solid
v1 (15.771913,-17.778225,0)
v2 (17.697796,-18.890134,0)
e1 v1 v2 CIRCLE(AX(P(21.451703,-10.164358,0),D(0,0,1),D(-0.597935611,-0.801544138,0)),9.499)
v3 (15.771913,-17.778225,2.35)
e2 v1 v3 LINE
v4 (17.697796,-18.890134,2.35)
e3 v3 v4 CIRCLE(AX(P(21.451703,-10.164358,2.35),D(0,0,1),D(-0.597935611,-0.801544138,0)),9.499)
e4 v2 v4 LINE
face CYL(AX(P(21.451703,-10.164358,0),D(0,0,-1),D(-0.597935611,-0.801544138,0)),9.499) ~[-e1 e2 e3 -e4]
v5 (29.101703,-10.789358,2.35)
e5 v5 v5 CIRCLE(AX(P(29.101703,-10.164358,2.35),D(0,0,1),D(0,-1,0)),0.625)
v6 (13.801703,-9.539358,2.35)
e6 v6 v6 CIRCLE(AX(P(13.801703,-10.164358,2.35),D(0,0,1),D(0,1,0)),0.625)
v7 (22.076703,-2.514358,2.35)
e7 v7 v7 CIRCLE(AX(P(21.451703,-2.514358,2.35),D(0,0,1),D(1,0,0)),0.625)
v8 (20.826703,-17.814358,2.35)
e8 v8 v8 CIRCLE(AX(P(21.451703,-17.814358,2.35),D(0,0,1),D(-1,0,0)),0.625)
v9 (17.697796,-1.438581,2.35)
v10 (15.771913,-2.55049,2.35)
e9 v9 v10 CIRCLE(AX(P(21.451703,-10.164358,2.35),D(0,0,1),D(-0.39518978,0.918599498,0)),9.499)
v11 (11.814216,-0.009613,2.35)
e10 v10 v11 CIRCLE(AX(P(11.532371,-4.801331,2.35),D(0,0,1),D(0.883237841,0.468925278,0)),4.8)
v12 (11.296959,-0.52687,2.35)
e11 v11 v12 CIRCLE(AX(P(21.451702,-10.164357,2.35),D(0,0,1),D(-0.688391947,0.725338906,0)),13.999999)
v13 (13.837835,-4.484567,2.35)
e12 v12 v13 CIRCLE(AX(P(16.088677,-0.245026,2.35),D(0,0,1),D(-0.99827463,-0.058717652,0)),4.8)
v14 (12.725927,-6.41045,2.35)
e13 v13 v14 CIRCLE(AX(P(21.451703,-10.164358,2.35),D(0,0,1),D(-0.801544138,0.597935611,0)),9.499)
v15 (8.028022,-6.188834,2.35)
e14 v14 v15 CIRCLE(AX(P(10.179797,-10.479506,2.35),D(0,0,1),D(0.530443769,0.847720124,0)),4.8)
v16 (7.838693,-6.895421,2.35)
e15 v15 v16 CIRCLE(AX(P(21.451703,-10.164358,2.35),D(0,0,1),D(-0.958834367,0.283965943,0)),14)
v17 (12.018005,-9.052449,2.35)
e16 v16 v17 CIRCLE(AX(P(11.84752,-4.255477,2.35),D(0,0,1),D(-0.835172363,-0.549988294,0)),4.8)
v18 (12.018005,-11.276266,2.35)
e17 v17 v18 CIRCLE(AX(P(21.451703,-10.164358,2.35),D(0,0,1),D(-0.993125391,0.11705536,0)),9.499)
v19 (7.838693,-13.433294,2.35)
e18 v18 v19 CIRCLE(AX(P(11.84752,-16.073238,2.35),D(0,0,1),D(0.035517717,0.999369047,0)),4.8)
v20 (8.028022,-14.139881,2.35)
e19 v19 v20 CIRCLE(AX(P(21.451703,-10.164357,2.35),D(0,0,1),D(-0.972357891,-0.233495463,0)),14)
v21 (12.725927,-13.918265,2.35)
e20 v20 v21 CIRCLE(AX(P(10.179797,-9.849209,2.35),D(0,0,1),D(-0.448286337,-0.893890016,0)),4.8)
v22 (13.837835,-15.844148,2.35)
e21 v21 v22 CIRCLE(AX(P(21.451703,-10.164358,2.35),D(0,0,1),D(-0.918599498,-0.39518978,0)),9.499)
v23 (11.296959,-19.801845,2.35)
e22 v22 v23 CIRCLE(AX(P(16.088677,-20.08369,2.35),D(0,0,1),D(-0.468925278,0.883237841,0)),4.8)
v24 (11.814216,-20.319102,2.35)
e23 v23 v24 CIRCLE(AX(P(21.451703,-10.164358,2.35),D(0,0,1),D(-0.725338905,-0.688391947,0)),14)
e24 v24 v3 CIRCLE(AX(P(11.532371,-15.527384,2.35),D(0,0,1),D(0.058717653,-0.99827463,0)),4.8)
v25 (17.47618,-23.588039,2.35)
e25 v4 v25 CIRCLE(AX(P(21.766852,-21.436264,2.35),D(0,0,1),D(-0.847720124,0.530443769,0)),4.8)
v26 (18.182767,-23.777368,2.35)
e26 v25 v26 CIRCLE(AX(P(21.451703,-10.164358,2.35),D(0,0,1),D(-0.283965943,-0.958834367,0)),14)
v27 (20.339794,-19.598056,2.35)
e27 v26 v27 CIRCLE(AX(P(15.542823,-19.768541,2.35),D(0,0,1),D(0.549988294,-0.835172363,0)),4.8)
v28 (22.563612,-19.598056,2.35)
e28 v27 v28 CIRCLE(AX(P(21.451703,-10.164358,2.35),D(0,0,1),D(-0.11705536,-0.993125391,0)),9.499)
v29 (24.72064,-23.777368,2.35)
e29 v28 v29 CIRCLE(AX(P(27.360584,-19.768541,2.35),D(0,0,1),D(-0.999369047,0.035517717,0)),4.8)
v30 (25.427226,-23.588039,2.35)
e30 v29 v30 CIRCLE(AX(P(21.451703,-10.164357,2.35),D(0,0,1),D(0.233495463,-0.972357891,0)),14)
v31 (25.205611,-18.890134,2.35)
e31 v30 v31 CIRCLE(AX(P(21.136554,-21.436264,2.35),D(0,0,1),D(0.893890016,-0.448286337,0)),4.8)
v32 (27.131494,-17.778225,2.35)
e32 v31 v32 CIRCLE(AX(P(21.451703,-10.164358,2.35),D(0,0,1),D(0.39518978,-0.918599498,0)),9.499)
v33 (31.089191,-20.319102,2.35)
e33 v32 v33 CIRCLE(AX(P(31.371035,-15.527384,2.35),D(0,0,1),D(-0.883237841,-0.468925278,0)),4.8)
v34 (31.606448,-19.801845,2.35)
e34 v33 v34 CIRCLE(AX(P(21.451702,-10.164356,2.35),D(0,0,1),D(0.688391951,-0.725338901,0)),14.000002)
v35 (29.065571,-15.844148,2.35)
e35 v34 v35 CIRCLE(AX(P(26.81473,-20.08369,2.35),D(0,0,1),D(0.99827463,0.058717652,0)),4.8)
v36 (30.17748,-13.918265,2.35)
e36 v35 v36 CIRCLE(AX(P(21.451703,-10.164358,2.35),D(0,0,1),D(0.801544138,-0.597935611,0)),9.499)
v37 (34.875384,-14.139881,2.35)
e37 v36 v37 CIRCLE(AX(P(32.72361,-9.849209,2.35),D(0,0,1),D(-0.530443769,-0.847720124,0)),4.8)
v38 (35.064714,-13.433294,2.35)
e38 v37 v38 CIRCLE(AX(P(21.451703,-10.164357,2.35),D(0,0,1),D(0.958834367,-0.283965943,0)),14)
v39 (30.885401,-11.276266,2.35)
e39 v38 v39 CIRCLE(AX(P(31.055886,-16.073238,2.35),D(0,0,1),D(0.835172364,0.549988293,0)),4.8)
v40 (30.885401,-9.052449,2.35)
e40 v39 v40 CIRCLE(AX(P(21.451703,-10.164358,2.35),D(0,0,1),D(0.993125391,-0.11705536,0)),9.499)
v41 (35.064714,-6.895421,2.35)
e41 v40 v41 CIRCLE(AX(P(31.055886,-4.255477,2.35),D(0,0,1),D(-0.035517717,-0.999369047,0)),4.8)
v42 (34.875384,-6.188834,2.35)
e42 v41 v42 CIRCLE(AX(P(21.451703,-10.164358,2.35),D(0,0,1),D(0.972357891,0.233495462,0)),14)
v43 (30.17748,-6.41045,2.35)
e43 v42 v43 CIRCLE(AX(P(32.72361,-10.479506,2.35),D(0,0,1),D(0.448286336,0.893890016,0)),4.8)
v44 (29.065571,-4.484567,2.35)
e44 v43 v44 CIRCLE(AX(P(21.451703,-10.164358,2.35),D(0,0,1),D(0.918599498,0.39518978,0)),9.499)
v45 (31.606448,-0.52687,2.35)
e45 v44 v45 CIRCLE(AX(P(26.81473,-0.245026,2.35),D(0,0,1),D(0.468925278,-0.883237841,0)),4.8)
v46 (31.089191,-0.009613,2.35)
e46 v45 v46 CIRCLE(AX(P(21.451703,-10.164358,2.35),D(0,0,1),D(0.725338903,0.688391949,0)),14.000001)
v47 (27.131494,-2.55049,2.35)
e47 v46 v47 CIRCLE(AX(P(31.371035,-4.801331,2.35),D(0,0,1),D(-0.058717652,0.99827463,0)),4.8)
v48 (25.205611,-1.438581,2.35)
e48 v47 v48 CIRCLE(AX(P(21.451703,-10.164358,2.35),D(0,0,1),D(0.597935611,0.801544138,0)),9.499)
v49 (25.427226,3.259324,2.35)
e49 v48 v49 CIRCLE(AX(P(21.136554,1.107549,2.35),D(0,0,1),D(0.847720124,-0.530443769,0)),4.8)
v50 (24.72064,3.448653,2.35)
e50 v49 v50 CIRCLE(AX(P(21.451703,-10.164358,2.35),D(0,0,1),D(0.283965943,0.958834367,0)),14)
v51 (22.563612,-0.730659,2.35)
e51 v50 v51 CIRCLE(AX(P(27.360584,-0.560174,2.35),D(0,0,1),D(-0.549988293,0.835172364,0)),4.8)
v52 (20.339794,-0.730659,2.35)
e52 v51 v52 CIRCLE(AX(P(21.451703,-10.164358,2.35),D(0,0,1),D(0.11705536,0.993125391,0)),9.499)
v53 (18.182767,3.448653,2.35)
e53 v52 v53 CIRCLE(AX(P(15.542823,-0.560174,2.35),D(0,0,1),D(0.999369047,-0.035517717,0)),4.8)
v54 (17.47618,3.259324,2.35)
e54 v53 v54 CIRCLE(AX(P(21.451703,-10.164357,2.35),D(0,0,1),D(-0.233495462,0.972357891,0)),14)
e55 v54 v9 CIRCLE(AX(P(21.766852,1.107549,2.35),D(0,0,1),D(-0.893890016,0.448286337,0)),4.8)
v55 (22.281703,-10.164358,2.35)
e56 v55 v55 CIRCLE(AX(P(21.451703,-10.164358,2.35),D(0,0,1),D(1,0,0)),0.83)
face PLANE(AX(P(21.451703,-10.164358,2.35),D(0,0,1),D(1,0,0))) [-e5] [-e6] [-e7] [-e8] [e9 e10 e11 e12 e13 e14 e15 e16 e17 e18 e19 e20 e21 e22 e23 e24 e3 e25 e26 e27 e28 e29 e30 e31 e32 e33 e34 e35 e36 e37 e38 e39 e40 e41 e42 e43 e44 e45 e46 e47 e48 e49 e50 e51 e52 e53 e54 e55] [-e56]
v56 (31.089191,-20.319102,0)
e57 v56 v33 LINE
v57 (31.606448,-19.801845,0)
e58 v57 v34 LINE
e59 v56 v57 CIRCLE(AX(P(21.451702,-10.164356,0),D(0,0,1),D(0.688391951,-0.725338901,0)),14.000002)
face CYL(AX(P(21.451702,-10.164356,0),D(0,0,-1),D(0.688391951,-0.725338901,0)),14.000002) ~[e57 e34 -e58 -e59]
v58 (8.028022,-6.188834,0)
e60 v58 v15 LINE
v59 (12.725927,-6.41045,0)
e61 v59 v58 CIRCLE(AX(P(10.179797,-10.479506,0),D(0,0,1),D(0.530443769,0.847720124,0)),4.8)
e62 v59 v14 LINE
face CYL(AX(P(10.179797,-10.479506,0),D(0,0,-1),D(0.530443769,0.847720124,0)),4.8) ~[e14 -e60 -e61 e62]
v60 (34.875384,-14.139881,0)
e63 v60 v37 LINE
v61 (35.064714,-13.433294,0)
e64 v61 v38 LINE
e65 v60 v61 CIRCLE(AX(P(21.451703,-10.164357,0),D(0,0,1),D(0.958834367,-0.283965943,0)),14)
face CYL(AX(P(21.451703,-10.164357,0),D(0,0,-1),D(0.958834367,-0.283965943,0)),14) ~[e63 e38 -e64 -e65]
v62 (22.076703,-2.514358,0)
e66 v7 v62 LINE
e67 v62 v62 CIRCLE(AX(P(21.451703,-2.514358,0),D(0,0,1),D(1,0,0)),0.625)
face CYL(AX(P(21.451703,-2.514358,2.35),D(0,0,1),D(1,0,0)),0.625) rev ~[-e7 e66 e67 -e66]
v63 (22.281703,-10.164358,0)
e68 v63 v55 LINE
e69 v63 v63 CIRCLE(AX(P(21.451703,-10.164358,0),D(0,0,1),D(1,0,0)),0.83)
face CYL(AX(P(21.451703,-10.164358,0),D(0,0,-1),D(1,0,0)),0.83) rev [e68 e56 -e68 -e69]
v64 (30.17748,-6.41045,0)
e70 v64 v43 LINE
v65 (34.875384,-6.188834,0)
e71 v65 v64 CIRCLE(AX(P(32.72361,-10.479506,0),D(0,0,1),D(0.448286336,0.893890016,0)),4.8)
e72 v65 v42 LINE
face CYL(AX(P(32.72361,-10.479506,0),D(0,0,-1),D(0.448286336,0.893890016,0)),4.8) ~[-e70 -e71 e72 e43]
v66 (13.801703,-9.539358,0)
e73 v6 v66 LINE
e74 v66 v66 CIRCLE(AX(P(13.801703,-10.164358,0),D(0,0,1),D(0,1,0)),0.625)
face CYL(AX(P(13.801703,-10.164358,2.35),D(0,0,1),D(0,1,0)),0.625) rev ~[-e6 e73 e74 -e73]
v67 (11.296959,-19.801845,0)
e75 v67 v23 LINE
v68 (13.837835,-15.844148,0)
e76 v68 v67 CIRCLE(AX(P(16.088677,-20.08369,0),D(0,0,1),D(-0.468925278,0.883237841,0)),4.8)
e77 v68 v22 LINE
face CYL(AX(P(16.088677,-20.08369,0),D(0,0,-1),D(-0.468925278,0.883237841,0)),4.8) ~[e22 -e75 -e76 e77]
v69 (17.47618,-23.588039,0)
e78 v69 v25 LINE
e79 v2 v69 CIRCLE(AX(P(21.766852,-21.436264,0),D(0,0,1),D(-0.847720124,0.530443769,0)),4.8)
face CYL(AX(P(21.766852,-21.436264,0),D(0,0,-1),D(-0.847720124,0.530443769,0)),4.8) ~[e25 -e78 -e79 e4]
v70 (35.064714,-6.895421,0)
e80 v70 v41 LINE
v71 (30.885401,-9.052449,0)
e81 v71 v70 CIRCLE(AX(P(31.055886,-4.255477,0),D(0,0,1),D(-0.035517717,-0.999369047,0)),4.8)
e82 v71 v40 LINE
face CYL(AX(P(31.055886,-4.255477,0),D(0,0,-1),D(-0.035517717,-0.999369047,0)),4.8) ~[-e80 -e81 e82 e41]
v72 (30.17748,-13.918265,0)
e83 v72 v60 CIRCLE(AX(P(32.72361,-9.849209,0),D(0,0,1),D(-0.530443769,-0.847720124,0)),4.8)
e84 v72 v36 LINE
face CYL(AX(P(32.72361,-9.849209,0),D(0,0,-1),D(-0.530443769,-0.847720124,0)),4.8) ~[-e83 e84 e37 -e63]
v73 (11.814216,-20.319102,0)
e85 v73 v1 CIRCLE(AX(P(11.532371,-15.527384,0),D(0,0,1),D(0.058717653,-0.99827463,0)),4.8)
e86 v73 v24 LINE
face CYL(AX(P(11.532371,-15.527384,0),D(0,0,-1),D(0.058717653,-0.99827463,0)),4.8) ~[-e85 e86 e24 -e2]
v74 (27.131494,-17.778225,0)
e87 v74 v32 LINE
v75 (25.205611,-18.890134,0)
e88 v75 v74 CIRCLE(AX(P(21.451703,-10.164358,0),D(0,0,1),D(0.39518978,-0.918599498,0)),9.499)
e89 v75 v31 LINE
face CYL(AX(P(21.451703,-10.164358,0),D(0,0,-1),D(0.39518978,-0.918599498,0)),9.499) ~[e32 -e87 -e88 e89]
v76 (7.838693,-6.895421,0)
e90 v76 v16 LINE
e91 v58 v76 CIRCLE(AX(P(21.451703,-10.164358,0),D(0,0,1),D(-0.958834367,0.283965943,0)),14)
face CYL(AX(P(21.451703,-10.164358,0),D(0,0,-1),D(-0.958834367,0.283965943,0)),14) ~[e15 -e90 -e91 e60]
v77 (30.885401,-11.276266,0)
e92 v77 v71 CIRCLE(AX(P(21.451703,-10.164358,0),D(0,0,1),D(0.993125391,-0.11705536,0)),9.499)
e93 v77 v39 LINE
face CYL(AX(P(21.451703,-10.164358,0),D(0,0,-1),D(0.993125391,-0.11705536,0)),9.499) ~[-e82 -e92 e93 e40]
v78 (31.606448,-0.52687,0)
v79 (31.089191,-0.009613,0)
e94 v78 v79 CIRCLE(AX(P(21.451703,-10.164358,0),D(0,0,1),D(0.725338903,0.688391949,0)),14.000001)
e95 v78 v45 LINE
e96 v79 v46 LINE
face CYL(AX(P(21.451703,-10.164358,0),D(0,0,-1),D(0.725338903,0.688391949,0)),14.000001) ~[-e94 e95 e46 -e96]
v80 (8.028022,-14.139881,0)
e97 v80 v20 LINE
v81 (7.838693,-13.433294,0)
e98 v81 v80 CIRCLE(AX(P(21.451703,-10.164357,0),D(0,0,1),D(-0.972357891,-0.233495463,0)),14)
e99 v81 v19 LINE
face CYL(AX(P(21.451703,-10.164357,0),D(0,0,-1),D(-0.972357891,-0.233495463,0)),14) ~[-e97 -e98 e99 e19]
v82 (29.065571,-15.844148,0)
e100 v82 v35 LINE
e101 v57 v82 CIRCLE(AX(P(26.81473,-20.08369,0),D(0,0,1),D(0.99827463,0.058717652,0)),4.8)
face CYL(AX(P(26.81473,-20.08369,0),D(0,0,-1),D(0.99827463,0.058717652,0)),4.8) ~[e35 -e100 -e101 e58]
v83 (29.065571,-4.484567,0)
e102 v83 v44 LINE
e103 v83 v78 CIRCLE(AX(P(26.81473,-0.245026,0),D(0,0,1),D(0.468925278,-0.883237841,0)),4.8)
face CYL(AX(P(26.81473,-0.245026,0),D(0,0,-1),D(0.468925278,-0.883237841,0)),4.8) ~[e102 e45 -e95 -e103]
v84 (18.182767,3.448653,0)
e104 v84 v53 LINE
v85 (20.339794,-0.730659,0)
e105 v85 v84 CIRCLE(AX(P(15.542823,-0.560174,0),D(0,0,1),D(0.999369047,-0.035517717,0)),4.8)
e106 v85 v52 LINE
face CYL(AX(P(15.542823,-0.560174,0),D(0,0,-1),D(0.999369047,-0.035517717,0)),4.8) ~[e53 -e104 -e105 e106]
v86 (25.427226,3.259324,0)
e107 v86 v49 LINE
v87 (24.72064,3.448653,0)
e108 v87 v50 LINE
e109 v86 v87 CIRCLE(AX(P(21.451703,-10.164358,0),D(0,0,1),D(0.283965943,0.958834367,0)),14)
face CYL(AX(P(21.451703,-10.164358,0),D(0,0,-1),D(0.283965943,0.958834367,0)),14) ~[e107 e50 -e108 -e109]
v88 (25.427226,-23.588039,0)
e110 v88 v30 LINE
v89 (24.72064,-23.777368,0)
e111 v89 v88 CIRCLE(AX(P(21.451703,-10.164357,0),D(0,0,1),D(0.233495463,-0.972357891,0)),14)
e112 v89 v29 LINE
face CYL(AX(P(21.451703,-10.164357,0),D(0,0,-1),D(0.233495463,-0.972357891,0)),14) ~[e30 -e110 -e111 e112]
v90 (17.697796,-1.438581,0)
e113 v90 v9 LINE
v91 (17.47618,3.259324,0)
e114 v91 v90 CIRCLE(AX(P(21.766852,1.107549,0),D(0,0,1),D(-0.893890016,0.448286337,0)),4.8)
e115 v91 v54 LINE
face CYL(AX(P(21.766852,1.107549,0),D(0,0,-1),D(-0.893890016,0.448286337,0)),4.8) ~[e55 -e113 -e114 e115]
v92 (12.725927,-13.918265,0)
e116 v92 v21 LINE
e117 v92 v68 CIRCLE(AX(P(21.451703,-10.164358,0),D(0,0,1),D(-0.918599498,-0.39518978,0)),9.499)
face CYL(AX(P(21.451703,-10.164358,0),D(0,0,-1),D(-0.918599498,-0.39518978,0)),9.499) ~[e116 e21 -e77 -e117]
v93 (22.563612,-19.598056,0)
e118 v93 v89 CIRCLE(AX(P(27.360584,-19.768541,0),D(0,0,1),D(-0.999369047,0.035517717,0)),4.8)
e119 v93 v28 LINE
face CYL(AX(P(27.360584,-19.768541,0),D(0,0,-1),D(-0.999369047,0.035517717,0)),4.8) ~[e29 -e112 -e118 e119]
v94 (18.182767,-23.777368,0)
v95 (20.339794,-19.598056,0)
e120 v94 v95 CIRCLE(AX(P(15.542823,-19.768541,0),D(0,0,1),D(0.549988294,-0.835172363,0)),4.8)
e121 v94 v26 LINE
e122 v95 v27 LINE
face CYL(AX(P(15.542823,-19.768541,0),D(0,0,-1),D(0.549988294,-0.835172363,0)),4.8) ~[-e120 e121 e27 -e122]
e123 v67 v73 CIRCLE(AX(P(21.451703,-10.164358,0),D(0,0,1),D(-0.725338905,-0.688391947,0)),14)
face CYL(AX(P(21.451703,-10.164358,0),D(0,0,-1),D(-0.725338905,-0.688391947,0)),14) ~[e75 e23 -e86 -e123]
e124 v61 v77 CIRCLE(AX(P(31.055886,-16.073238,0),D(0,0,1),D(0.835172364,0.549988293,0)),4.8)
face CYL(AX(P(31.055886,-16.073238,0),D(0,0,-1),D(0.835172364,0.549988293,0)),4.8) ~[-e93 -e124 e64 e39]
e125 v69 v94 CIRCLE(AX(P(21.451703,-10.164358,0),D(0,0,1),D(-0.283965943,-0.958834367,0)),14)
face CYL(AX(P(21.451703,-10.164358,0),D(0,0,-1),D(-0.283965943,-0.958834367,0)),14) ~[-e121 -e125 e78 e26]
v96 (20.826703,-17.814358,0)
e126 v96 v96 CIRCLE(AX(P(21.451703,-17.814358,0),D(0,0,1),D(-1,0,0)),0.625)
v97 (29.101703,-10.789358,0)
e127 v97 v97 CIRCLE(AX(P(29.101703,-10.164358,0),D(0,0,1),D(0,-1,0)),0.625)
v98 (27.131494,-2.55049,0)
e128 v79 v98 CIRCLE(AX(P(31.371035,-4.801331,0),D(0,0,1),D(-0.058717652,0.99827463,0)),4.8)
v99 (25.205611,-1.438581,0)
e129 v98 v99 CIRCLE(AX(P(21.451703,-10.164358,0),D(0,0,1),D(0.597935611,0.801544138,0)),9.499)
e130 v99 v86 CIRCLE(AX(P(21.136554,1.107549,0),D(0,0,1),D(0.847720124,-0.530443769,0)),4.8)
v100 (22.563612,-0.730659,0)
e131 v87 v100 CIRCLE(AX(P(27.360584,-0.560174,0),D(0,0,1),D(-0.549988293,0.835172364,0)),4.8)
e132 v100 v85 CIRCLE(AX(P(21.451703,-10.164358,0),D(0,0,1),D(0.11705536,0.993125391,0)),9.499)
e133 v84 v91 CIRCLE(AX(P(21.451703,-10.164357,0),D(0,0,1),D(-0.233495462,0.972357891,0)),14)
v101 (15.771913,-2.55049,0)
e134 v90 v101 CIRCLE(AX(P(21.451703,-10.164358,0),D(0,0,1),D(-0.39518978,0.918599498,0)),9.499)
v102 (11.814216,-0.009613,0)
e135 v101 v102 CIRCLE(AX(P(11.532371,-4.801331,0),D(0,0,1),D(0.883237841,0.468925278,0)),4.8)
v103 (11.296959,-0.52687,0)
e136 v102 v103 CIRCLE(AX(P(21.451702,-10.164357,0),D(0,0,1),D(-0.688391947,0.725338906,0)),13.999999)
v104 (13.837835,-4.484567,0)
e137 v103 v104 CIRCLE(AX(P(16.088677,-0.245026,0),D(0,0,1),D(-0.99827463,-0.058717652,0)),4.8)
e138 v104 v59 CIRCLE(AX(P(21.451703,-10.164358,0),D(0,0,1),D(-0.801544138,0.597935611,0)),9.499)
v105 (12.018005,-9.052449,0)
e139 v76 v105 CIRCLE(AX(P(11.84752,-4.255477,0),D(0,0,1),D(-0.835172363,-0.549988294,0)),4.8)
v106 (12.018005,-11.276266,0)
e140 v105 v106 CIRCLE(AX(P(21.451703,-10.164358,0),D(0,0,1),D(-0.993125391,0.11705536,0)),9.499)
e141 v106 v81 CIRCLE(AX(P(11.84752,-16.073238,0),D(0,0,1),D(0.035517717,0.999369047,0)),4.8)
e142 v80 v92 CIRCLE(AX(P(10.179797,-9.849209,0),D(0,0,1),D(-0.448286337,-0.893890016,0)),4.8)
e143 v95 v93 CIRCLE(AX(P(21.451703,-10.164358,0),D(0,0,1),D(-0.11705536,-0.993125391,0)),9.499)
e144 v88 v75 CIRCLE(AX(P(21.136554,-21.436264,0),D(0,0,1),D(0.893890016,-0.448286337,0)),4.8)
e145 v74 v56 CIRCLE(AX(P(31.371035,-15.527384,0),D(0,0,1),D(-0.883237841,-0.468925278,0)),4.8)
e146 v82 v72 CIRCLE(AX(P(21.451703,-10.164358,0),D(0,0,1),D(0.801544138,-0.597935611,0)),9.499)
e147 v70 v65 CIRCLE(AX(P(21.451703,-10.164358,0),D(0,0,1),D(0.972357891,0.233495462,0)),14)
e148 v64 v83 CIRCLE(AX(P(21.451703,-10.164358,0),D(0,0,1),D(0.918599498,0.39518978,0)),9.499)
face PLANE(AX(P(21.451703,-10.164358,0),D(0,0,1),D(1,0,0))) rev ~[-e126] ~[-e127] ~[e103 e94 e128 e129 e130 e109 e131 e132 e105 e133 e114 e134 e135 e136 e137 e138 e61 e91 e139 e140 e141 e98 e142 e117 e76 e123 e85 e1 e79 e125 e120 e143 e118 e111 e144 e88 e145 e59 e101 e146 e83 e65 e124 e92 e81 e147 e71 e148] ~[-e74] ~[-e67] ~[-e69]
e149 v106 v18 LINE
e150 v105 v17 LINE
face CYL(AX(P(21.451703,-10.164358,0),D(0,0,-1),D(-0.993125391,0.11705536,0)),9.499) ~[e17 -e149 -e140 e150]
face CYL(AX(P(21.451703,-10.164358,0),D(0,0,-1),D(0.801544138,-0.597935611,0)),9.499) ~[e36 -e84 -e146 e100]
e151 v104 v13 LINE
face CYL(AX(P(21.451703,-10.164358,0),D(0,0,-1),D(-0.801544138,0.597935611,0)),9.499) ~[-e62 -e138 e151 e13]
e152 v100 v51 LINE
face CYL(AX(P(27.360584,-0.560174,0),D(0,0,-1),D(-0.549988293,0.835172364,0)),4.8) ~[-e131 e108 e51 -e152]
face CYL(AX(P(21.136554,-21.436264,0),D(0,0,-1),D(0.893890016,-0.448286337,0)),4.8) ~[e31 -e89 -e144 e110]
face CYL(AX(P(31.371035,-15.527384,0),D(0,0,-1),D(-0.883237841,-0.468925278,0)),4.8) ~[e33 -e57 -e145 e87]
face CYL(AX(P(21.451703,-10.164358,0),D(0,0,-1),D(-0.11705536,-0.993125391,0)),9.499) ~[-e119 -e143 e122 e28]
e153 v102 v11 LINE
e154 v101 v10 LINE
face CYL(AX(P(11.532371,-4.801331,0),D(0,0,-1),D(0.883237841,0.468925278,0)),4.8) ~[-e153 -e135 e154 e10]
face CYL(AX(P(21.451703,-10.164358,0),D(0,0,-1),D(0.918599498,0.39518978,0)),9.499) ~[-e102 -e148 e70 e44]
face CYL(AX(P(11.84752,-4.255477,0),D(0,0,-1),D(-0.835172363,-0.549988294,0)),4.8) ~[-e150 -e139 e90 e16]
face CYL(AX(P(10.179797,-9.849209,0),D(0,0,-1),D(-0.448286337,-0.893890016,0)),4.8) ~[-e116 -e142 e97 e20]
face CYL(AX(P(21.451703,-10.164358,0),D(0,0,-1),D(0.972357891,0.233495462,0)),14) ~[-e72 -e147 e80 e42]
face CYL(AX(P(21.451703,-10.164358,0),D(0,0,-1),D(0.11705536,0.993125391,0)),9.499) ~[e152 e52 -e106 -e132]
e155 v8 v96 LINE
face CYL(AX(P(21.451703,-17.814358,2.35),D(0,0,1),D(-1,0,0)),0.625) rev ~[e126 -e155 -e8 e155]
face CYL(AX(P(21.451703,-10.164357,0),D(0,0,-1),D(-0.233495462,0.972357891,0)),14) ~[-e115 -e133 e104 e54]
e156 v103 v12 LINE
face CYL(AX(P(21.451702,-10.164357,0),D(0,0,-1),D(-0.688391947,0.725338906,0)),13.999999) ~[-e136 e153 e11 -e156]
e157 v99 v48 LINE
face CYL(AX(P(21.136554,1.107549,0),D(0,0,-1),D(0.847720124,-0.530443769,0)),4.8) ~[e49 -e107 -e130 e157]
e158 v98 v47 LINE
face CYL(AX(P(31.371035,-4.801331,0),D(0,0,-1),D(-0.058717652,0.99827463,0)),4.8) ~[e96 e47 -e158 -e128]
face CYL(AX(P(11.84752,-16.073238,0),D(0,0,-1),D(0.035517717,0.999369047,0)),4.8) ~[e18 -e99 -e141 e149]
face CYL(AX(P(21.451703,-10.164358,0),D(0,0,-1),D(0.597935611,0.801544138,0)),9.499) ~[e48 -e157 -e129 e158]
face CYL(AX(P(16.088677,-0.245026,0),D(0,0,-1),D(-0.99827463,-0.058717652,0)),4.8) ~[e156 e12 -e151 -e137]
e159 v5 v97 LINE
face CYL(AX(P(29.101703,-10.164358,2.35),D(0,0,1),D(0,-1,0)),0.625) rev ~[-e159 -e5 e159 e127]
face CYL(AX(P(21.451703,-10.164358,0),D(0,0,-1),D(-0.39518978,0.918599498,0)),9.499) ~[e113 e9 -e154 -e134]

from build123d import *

# Parameters (mm, degrees)
SKETCH1_R           = 0.83
BOSS_EXTRUDE1_DEPTH = 2.35
SKETCH2_R           = 0.625
CUT_EXTRUDE1_DEPTH  = 10
CIRPATTERN1_COUNT   = 4


with BuildPart() as part:
    # Sketch1 → Boss-Extrude1 (new body)
    with BuildSketch(Plane.XY):
        with BuildLine():
            ThreePointArc((31.089190509, -0.00961289), (28.777823425, -0.762116774), (27.131493603, -2.550489779))
            ThreePointArc((27.131493603, -2.550489779), (26.201203233, -1.937982234), (25.205610954, -1.438580913))
            ThreePointArc((25.205610954, -1.438580913), (25.931222497, 0.881369039), (25.427226435, 3.259323592))
            ThreePointArc((25.427226435, 3.259323592), (25.075169864, 3.358604023), (24.720639715, 3.448652933))
            ThreePointArc((24.720639715, 3.448652933), (23.095189045, 1.641281911), (22.563612099, -0.730659454))
            ThreePointArc((22.563612099, -0.730659454), (21.451703233, -0.665357545), (20.339794367, -0.730659454))
            ThreePointArc((20.339794367, -0.730659454), (19.80821742, 1.641281911), (18.182766751, 3.448652933))
            ThreePointArc((18.182766751, 3.448652933), (17.828236601, 3.358604023), (17.47618003, 3.259323592))
            ThreePointArc((17.47618003, 3.259323592), (16.972183969, 0.881369039), (17.697795512, -1.438580913))
            ThreePointArc((17.697795512, -1.438580913), (16.702203233, -1.937982234), (15.771912863, -2.550489779))
            ThreePointArc((15.771912863, -2.550489779), (14.12558304, -0.762116774), (11.814215957, -0.00961289))
            ThreePointArc((11.814215957, -0.00961289), (11.552208296, -0.264862608), (11.296958578, -0.526870269))
            ThreePointArc((11.296958578, -0.526870269), (12.049462462, -2.838237352), (13.837835467, -4.484567174))
            ThreePointArc((13.837835467, -4.484567174), (13.225327922, -5.414857545), (12.725926601, -6.410449824))
            ThreePointArc((12.725926601, -6.410449824), (10.40597665, -5.684838281), (8.028022096, -6.188834342))
            ThreePointArc((8.028022096, -6.188834342), (7.928741665, -6.540890913), (7.838692755, -6.895421063))
            ThreePointArc((7.838692755, -6.895421063), (9.646063777, -8.520871732), (12.018005142, -9.052448679))
            ThreePointArc((12.018005142, -9.052448679), (11.952703233, -10.164357545), (12.018005142, -11.276266411))
            ThreePointArc((12.018005142, -11.276266411), (9.646063777, -11.807843357), (7.838692755, -13.433294027))
            ThreePointArc((7.838692755, -13.433294027), (7.928741665, -13.787824176), (8.028022096, -14.139880747))
            ThreePointArc((8.028022096, -14.139880747), (10.40597665, -14.643876808), (12.725926601, -13.918265265))
            ThreePointArc((12.725926601, -13.918265265), (13.225327922, -14.913857545), (13.837835467, -15.844147915))
            ThreePointArc((13.837835467, -15.844147915), (12.049462462, -17.490477737), (11.296958578, -19.80184482))
            ThreePointArc((11.296958578, -19.80184482), (11.552208296, -20.063852481), (11.814215957, -20.3191022))
            ThreePointArc((11.814215957, -20.3191022), (14.12558304, -19.566598315), (15.771912863, -17.77822531))
            ThreePointArc((15.771912863, -17.77822531), (16.702203233, -18.390732855), (17.697795512, -18.890134176))
            ThreePointArc((17.697795512, -18.890134176), (16.972183969, -21.210084128), (17.47618003, -23.588038682))
            ThreePointArc((17.47618003, -23.588038682), (17.828236601, -23.687319113), (18.182766751, -23.777368023))
            ThreePointArc((18.182766751, -23.777368023), (19.80821742, -21.969997001), (20.339794367, -19.598055636))
            ThreePointArc((20.339794367, -19.598055636), (21.451703233, -19.663357545), (22.563612099, -19.598055636))
            ThreePointArc((22.563612099, -19.598055636), (23.095189045, -21.969997001), (24.720639715, -23.777368023))
            ThreePointArc((24.720639715, -23.777368023), (25.075169864, -23.687319113), (25.427226435, -23.588038682))
            ThreePointArc((25.427226435, -23.588038682), (25.931222497, -21.210084128), (25.205610954, -18.890134176))
            ThreePointArc((25.205610954, -18.890134176), (26.201203233, -18.390732855), (27.131493603, -17.77822531))
            ThreePointArc((27.131493603, -17.77822531), (28.777823425, -19.566598315), (31.089190509, -20.3191022))
            ThreePointArc((31.089190509, -20.3191022), (31.351198169, -20.063852481), (31.606447888, -19.80184482))
            ThreePointArc((31.606447888, -19.80184482), (30.853944004, -17.490477737), (29.065570998, -15.844147915))
            ThreePointArc((29.065570998, -15.844147915), (29.678078543, -14.913857545), (30.177479864, -13.918265265))
            ThreePointArc((30.177479864, -13.918265265), (32.497429816, -14.643876808), (34.87538437, -14.139880747))
            ThreePointArc((34.87538437, -14.139880747), (34.974664801, -13.787824176), (35.064713711, -13.433294027))
            ThreePointArc((35.064713711, -13.433294027), (33.257342689, -11.807843357), (30.885401324, -11.276266411))
            ThreePointArc((30.885401324, -11.276266411), (30.950703233, -10.164357545), (30.885401324, -9.052448679))
            ThreePointArc((30.885401324, -9.052448679), (33.257342689, -8.520871732), (35.064713711, -6.895421063))
            ThreePointArc((35.064713711, -6.895421063), (34.974664801, -6.540890913), (34.87538437, -6.188834342))
            ThreePointArc((34.87538437, -6.188834342), (32.497429816, -5.684838281), (30.177479864, -6.410449824))
            ThreePointArc((30.177479864, -6.410449824), (29.678078543, -5.414857545), (29.065570998, -4.484567174))
            ThreePointArc((29.065570998, -4.484567174), (30.853944004, -2.838237352), (31.606447888, -0.526870269))
            ThreePointArc((31.606447888, -0.526870269), (31.351198169, -0.264862608), (31.089190509, -0.00961289))
        make_face()
        with Locations((21.451703233, -10.164357545)):
            Circle(SKETCH1_R, mode=Mode.SUBTRACT)
    extrude(amount=BOSS_EXTRUDE1_DEPTH)

    # Sketch2 → Cut-Extrude1 (cut)
    with BuildSketch(Plane.XY.offset(2.35)):
        with Locations((21.451703233, -2.514357545)):
            Circle(SKETCH2_R)
    cut_extrude1 = extrude(amount=-CUT_EXTRUDE1_DEPTH, mode=Mode.SUBTRACT)

    # CirPattern1: Cut-Extrude1 ×4 about axis
    cirpattern1_axis = Axis((21.451703233, -10.164357545, 17.324311526), (0, 0, -1))
    for i in range(1, CIRPATTERN1_COUNT):
        add(cut_extrude1.rotate(cirpattern1_axis, i * 360 / CIRPATTERN1_COUNT), mode=Mode.SUBTRACT)


solid = part.part
